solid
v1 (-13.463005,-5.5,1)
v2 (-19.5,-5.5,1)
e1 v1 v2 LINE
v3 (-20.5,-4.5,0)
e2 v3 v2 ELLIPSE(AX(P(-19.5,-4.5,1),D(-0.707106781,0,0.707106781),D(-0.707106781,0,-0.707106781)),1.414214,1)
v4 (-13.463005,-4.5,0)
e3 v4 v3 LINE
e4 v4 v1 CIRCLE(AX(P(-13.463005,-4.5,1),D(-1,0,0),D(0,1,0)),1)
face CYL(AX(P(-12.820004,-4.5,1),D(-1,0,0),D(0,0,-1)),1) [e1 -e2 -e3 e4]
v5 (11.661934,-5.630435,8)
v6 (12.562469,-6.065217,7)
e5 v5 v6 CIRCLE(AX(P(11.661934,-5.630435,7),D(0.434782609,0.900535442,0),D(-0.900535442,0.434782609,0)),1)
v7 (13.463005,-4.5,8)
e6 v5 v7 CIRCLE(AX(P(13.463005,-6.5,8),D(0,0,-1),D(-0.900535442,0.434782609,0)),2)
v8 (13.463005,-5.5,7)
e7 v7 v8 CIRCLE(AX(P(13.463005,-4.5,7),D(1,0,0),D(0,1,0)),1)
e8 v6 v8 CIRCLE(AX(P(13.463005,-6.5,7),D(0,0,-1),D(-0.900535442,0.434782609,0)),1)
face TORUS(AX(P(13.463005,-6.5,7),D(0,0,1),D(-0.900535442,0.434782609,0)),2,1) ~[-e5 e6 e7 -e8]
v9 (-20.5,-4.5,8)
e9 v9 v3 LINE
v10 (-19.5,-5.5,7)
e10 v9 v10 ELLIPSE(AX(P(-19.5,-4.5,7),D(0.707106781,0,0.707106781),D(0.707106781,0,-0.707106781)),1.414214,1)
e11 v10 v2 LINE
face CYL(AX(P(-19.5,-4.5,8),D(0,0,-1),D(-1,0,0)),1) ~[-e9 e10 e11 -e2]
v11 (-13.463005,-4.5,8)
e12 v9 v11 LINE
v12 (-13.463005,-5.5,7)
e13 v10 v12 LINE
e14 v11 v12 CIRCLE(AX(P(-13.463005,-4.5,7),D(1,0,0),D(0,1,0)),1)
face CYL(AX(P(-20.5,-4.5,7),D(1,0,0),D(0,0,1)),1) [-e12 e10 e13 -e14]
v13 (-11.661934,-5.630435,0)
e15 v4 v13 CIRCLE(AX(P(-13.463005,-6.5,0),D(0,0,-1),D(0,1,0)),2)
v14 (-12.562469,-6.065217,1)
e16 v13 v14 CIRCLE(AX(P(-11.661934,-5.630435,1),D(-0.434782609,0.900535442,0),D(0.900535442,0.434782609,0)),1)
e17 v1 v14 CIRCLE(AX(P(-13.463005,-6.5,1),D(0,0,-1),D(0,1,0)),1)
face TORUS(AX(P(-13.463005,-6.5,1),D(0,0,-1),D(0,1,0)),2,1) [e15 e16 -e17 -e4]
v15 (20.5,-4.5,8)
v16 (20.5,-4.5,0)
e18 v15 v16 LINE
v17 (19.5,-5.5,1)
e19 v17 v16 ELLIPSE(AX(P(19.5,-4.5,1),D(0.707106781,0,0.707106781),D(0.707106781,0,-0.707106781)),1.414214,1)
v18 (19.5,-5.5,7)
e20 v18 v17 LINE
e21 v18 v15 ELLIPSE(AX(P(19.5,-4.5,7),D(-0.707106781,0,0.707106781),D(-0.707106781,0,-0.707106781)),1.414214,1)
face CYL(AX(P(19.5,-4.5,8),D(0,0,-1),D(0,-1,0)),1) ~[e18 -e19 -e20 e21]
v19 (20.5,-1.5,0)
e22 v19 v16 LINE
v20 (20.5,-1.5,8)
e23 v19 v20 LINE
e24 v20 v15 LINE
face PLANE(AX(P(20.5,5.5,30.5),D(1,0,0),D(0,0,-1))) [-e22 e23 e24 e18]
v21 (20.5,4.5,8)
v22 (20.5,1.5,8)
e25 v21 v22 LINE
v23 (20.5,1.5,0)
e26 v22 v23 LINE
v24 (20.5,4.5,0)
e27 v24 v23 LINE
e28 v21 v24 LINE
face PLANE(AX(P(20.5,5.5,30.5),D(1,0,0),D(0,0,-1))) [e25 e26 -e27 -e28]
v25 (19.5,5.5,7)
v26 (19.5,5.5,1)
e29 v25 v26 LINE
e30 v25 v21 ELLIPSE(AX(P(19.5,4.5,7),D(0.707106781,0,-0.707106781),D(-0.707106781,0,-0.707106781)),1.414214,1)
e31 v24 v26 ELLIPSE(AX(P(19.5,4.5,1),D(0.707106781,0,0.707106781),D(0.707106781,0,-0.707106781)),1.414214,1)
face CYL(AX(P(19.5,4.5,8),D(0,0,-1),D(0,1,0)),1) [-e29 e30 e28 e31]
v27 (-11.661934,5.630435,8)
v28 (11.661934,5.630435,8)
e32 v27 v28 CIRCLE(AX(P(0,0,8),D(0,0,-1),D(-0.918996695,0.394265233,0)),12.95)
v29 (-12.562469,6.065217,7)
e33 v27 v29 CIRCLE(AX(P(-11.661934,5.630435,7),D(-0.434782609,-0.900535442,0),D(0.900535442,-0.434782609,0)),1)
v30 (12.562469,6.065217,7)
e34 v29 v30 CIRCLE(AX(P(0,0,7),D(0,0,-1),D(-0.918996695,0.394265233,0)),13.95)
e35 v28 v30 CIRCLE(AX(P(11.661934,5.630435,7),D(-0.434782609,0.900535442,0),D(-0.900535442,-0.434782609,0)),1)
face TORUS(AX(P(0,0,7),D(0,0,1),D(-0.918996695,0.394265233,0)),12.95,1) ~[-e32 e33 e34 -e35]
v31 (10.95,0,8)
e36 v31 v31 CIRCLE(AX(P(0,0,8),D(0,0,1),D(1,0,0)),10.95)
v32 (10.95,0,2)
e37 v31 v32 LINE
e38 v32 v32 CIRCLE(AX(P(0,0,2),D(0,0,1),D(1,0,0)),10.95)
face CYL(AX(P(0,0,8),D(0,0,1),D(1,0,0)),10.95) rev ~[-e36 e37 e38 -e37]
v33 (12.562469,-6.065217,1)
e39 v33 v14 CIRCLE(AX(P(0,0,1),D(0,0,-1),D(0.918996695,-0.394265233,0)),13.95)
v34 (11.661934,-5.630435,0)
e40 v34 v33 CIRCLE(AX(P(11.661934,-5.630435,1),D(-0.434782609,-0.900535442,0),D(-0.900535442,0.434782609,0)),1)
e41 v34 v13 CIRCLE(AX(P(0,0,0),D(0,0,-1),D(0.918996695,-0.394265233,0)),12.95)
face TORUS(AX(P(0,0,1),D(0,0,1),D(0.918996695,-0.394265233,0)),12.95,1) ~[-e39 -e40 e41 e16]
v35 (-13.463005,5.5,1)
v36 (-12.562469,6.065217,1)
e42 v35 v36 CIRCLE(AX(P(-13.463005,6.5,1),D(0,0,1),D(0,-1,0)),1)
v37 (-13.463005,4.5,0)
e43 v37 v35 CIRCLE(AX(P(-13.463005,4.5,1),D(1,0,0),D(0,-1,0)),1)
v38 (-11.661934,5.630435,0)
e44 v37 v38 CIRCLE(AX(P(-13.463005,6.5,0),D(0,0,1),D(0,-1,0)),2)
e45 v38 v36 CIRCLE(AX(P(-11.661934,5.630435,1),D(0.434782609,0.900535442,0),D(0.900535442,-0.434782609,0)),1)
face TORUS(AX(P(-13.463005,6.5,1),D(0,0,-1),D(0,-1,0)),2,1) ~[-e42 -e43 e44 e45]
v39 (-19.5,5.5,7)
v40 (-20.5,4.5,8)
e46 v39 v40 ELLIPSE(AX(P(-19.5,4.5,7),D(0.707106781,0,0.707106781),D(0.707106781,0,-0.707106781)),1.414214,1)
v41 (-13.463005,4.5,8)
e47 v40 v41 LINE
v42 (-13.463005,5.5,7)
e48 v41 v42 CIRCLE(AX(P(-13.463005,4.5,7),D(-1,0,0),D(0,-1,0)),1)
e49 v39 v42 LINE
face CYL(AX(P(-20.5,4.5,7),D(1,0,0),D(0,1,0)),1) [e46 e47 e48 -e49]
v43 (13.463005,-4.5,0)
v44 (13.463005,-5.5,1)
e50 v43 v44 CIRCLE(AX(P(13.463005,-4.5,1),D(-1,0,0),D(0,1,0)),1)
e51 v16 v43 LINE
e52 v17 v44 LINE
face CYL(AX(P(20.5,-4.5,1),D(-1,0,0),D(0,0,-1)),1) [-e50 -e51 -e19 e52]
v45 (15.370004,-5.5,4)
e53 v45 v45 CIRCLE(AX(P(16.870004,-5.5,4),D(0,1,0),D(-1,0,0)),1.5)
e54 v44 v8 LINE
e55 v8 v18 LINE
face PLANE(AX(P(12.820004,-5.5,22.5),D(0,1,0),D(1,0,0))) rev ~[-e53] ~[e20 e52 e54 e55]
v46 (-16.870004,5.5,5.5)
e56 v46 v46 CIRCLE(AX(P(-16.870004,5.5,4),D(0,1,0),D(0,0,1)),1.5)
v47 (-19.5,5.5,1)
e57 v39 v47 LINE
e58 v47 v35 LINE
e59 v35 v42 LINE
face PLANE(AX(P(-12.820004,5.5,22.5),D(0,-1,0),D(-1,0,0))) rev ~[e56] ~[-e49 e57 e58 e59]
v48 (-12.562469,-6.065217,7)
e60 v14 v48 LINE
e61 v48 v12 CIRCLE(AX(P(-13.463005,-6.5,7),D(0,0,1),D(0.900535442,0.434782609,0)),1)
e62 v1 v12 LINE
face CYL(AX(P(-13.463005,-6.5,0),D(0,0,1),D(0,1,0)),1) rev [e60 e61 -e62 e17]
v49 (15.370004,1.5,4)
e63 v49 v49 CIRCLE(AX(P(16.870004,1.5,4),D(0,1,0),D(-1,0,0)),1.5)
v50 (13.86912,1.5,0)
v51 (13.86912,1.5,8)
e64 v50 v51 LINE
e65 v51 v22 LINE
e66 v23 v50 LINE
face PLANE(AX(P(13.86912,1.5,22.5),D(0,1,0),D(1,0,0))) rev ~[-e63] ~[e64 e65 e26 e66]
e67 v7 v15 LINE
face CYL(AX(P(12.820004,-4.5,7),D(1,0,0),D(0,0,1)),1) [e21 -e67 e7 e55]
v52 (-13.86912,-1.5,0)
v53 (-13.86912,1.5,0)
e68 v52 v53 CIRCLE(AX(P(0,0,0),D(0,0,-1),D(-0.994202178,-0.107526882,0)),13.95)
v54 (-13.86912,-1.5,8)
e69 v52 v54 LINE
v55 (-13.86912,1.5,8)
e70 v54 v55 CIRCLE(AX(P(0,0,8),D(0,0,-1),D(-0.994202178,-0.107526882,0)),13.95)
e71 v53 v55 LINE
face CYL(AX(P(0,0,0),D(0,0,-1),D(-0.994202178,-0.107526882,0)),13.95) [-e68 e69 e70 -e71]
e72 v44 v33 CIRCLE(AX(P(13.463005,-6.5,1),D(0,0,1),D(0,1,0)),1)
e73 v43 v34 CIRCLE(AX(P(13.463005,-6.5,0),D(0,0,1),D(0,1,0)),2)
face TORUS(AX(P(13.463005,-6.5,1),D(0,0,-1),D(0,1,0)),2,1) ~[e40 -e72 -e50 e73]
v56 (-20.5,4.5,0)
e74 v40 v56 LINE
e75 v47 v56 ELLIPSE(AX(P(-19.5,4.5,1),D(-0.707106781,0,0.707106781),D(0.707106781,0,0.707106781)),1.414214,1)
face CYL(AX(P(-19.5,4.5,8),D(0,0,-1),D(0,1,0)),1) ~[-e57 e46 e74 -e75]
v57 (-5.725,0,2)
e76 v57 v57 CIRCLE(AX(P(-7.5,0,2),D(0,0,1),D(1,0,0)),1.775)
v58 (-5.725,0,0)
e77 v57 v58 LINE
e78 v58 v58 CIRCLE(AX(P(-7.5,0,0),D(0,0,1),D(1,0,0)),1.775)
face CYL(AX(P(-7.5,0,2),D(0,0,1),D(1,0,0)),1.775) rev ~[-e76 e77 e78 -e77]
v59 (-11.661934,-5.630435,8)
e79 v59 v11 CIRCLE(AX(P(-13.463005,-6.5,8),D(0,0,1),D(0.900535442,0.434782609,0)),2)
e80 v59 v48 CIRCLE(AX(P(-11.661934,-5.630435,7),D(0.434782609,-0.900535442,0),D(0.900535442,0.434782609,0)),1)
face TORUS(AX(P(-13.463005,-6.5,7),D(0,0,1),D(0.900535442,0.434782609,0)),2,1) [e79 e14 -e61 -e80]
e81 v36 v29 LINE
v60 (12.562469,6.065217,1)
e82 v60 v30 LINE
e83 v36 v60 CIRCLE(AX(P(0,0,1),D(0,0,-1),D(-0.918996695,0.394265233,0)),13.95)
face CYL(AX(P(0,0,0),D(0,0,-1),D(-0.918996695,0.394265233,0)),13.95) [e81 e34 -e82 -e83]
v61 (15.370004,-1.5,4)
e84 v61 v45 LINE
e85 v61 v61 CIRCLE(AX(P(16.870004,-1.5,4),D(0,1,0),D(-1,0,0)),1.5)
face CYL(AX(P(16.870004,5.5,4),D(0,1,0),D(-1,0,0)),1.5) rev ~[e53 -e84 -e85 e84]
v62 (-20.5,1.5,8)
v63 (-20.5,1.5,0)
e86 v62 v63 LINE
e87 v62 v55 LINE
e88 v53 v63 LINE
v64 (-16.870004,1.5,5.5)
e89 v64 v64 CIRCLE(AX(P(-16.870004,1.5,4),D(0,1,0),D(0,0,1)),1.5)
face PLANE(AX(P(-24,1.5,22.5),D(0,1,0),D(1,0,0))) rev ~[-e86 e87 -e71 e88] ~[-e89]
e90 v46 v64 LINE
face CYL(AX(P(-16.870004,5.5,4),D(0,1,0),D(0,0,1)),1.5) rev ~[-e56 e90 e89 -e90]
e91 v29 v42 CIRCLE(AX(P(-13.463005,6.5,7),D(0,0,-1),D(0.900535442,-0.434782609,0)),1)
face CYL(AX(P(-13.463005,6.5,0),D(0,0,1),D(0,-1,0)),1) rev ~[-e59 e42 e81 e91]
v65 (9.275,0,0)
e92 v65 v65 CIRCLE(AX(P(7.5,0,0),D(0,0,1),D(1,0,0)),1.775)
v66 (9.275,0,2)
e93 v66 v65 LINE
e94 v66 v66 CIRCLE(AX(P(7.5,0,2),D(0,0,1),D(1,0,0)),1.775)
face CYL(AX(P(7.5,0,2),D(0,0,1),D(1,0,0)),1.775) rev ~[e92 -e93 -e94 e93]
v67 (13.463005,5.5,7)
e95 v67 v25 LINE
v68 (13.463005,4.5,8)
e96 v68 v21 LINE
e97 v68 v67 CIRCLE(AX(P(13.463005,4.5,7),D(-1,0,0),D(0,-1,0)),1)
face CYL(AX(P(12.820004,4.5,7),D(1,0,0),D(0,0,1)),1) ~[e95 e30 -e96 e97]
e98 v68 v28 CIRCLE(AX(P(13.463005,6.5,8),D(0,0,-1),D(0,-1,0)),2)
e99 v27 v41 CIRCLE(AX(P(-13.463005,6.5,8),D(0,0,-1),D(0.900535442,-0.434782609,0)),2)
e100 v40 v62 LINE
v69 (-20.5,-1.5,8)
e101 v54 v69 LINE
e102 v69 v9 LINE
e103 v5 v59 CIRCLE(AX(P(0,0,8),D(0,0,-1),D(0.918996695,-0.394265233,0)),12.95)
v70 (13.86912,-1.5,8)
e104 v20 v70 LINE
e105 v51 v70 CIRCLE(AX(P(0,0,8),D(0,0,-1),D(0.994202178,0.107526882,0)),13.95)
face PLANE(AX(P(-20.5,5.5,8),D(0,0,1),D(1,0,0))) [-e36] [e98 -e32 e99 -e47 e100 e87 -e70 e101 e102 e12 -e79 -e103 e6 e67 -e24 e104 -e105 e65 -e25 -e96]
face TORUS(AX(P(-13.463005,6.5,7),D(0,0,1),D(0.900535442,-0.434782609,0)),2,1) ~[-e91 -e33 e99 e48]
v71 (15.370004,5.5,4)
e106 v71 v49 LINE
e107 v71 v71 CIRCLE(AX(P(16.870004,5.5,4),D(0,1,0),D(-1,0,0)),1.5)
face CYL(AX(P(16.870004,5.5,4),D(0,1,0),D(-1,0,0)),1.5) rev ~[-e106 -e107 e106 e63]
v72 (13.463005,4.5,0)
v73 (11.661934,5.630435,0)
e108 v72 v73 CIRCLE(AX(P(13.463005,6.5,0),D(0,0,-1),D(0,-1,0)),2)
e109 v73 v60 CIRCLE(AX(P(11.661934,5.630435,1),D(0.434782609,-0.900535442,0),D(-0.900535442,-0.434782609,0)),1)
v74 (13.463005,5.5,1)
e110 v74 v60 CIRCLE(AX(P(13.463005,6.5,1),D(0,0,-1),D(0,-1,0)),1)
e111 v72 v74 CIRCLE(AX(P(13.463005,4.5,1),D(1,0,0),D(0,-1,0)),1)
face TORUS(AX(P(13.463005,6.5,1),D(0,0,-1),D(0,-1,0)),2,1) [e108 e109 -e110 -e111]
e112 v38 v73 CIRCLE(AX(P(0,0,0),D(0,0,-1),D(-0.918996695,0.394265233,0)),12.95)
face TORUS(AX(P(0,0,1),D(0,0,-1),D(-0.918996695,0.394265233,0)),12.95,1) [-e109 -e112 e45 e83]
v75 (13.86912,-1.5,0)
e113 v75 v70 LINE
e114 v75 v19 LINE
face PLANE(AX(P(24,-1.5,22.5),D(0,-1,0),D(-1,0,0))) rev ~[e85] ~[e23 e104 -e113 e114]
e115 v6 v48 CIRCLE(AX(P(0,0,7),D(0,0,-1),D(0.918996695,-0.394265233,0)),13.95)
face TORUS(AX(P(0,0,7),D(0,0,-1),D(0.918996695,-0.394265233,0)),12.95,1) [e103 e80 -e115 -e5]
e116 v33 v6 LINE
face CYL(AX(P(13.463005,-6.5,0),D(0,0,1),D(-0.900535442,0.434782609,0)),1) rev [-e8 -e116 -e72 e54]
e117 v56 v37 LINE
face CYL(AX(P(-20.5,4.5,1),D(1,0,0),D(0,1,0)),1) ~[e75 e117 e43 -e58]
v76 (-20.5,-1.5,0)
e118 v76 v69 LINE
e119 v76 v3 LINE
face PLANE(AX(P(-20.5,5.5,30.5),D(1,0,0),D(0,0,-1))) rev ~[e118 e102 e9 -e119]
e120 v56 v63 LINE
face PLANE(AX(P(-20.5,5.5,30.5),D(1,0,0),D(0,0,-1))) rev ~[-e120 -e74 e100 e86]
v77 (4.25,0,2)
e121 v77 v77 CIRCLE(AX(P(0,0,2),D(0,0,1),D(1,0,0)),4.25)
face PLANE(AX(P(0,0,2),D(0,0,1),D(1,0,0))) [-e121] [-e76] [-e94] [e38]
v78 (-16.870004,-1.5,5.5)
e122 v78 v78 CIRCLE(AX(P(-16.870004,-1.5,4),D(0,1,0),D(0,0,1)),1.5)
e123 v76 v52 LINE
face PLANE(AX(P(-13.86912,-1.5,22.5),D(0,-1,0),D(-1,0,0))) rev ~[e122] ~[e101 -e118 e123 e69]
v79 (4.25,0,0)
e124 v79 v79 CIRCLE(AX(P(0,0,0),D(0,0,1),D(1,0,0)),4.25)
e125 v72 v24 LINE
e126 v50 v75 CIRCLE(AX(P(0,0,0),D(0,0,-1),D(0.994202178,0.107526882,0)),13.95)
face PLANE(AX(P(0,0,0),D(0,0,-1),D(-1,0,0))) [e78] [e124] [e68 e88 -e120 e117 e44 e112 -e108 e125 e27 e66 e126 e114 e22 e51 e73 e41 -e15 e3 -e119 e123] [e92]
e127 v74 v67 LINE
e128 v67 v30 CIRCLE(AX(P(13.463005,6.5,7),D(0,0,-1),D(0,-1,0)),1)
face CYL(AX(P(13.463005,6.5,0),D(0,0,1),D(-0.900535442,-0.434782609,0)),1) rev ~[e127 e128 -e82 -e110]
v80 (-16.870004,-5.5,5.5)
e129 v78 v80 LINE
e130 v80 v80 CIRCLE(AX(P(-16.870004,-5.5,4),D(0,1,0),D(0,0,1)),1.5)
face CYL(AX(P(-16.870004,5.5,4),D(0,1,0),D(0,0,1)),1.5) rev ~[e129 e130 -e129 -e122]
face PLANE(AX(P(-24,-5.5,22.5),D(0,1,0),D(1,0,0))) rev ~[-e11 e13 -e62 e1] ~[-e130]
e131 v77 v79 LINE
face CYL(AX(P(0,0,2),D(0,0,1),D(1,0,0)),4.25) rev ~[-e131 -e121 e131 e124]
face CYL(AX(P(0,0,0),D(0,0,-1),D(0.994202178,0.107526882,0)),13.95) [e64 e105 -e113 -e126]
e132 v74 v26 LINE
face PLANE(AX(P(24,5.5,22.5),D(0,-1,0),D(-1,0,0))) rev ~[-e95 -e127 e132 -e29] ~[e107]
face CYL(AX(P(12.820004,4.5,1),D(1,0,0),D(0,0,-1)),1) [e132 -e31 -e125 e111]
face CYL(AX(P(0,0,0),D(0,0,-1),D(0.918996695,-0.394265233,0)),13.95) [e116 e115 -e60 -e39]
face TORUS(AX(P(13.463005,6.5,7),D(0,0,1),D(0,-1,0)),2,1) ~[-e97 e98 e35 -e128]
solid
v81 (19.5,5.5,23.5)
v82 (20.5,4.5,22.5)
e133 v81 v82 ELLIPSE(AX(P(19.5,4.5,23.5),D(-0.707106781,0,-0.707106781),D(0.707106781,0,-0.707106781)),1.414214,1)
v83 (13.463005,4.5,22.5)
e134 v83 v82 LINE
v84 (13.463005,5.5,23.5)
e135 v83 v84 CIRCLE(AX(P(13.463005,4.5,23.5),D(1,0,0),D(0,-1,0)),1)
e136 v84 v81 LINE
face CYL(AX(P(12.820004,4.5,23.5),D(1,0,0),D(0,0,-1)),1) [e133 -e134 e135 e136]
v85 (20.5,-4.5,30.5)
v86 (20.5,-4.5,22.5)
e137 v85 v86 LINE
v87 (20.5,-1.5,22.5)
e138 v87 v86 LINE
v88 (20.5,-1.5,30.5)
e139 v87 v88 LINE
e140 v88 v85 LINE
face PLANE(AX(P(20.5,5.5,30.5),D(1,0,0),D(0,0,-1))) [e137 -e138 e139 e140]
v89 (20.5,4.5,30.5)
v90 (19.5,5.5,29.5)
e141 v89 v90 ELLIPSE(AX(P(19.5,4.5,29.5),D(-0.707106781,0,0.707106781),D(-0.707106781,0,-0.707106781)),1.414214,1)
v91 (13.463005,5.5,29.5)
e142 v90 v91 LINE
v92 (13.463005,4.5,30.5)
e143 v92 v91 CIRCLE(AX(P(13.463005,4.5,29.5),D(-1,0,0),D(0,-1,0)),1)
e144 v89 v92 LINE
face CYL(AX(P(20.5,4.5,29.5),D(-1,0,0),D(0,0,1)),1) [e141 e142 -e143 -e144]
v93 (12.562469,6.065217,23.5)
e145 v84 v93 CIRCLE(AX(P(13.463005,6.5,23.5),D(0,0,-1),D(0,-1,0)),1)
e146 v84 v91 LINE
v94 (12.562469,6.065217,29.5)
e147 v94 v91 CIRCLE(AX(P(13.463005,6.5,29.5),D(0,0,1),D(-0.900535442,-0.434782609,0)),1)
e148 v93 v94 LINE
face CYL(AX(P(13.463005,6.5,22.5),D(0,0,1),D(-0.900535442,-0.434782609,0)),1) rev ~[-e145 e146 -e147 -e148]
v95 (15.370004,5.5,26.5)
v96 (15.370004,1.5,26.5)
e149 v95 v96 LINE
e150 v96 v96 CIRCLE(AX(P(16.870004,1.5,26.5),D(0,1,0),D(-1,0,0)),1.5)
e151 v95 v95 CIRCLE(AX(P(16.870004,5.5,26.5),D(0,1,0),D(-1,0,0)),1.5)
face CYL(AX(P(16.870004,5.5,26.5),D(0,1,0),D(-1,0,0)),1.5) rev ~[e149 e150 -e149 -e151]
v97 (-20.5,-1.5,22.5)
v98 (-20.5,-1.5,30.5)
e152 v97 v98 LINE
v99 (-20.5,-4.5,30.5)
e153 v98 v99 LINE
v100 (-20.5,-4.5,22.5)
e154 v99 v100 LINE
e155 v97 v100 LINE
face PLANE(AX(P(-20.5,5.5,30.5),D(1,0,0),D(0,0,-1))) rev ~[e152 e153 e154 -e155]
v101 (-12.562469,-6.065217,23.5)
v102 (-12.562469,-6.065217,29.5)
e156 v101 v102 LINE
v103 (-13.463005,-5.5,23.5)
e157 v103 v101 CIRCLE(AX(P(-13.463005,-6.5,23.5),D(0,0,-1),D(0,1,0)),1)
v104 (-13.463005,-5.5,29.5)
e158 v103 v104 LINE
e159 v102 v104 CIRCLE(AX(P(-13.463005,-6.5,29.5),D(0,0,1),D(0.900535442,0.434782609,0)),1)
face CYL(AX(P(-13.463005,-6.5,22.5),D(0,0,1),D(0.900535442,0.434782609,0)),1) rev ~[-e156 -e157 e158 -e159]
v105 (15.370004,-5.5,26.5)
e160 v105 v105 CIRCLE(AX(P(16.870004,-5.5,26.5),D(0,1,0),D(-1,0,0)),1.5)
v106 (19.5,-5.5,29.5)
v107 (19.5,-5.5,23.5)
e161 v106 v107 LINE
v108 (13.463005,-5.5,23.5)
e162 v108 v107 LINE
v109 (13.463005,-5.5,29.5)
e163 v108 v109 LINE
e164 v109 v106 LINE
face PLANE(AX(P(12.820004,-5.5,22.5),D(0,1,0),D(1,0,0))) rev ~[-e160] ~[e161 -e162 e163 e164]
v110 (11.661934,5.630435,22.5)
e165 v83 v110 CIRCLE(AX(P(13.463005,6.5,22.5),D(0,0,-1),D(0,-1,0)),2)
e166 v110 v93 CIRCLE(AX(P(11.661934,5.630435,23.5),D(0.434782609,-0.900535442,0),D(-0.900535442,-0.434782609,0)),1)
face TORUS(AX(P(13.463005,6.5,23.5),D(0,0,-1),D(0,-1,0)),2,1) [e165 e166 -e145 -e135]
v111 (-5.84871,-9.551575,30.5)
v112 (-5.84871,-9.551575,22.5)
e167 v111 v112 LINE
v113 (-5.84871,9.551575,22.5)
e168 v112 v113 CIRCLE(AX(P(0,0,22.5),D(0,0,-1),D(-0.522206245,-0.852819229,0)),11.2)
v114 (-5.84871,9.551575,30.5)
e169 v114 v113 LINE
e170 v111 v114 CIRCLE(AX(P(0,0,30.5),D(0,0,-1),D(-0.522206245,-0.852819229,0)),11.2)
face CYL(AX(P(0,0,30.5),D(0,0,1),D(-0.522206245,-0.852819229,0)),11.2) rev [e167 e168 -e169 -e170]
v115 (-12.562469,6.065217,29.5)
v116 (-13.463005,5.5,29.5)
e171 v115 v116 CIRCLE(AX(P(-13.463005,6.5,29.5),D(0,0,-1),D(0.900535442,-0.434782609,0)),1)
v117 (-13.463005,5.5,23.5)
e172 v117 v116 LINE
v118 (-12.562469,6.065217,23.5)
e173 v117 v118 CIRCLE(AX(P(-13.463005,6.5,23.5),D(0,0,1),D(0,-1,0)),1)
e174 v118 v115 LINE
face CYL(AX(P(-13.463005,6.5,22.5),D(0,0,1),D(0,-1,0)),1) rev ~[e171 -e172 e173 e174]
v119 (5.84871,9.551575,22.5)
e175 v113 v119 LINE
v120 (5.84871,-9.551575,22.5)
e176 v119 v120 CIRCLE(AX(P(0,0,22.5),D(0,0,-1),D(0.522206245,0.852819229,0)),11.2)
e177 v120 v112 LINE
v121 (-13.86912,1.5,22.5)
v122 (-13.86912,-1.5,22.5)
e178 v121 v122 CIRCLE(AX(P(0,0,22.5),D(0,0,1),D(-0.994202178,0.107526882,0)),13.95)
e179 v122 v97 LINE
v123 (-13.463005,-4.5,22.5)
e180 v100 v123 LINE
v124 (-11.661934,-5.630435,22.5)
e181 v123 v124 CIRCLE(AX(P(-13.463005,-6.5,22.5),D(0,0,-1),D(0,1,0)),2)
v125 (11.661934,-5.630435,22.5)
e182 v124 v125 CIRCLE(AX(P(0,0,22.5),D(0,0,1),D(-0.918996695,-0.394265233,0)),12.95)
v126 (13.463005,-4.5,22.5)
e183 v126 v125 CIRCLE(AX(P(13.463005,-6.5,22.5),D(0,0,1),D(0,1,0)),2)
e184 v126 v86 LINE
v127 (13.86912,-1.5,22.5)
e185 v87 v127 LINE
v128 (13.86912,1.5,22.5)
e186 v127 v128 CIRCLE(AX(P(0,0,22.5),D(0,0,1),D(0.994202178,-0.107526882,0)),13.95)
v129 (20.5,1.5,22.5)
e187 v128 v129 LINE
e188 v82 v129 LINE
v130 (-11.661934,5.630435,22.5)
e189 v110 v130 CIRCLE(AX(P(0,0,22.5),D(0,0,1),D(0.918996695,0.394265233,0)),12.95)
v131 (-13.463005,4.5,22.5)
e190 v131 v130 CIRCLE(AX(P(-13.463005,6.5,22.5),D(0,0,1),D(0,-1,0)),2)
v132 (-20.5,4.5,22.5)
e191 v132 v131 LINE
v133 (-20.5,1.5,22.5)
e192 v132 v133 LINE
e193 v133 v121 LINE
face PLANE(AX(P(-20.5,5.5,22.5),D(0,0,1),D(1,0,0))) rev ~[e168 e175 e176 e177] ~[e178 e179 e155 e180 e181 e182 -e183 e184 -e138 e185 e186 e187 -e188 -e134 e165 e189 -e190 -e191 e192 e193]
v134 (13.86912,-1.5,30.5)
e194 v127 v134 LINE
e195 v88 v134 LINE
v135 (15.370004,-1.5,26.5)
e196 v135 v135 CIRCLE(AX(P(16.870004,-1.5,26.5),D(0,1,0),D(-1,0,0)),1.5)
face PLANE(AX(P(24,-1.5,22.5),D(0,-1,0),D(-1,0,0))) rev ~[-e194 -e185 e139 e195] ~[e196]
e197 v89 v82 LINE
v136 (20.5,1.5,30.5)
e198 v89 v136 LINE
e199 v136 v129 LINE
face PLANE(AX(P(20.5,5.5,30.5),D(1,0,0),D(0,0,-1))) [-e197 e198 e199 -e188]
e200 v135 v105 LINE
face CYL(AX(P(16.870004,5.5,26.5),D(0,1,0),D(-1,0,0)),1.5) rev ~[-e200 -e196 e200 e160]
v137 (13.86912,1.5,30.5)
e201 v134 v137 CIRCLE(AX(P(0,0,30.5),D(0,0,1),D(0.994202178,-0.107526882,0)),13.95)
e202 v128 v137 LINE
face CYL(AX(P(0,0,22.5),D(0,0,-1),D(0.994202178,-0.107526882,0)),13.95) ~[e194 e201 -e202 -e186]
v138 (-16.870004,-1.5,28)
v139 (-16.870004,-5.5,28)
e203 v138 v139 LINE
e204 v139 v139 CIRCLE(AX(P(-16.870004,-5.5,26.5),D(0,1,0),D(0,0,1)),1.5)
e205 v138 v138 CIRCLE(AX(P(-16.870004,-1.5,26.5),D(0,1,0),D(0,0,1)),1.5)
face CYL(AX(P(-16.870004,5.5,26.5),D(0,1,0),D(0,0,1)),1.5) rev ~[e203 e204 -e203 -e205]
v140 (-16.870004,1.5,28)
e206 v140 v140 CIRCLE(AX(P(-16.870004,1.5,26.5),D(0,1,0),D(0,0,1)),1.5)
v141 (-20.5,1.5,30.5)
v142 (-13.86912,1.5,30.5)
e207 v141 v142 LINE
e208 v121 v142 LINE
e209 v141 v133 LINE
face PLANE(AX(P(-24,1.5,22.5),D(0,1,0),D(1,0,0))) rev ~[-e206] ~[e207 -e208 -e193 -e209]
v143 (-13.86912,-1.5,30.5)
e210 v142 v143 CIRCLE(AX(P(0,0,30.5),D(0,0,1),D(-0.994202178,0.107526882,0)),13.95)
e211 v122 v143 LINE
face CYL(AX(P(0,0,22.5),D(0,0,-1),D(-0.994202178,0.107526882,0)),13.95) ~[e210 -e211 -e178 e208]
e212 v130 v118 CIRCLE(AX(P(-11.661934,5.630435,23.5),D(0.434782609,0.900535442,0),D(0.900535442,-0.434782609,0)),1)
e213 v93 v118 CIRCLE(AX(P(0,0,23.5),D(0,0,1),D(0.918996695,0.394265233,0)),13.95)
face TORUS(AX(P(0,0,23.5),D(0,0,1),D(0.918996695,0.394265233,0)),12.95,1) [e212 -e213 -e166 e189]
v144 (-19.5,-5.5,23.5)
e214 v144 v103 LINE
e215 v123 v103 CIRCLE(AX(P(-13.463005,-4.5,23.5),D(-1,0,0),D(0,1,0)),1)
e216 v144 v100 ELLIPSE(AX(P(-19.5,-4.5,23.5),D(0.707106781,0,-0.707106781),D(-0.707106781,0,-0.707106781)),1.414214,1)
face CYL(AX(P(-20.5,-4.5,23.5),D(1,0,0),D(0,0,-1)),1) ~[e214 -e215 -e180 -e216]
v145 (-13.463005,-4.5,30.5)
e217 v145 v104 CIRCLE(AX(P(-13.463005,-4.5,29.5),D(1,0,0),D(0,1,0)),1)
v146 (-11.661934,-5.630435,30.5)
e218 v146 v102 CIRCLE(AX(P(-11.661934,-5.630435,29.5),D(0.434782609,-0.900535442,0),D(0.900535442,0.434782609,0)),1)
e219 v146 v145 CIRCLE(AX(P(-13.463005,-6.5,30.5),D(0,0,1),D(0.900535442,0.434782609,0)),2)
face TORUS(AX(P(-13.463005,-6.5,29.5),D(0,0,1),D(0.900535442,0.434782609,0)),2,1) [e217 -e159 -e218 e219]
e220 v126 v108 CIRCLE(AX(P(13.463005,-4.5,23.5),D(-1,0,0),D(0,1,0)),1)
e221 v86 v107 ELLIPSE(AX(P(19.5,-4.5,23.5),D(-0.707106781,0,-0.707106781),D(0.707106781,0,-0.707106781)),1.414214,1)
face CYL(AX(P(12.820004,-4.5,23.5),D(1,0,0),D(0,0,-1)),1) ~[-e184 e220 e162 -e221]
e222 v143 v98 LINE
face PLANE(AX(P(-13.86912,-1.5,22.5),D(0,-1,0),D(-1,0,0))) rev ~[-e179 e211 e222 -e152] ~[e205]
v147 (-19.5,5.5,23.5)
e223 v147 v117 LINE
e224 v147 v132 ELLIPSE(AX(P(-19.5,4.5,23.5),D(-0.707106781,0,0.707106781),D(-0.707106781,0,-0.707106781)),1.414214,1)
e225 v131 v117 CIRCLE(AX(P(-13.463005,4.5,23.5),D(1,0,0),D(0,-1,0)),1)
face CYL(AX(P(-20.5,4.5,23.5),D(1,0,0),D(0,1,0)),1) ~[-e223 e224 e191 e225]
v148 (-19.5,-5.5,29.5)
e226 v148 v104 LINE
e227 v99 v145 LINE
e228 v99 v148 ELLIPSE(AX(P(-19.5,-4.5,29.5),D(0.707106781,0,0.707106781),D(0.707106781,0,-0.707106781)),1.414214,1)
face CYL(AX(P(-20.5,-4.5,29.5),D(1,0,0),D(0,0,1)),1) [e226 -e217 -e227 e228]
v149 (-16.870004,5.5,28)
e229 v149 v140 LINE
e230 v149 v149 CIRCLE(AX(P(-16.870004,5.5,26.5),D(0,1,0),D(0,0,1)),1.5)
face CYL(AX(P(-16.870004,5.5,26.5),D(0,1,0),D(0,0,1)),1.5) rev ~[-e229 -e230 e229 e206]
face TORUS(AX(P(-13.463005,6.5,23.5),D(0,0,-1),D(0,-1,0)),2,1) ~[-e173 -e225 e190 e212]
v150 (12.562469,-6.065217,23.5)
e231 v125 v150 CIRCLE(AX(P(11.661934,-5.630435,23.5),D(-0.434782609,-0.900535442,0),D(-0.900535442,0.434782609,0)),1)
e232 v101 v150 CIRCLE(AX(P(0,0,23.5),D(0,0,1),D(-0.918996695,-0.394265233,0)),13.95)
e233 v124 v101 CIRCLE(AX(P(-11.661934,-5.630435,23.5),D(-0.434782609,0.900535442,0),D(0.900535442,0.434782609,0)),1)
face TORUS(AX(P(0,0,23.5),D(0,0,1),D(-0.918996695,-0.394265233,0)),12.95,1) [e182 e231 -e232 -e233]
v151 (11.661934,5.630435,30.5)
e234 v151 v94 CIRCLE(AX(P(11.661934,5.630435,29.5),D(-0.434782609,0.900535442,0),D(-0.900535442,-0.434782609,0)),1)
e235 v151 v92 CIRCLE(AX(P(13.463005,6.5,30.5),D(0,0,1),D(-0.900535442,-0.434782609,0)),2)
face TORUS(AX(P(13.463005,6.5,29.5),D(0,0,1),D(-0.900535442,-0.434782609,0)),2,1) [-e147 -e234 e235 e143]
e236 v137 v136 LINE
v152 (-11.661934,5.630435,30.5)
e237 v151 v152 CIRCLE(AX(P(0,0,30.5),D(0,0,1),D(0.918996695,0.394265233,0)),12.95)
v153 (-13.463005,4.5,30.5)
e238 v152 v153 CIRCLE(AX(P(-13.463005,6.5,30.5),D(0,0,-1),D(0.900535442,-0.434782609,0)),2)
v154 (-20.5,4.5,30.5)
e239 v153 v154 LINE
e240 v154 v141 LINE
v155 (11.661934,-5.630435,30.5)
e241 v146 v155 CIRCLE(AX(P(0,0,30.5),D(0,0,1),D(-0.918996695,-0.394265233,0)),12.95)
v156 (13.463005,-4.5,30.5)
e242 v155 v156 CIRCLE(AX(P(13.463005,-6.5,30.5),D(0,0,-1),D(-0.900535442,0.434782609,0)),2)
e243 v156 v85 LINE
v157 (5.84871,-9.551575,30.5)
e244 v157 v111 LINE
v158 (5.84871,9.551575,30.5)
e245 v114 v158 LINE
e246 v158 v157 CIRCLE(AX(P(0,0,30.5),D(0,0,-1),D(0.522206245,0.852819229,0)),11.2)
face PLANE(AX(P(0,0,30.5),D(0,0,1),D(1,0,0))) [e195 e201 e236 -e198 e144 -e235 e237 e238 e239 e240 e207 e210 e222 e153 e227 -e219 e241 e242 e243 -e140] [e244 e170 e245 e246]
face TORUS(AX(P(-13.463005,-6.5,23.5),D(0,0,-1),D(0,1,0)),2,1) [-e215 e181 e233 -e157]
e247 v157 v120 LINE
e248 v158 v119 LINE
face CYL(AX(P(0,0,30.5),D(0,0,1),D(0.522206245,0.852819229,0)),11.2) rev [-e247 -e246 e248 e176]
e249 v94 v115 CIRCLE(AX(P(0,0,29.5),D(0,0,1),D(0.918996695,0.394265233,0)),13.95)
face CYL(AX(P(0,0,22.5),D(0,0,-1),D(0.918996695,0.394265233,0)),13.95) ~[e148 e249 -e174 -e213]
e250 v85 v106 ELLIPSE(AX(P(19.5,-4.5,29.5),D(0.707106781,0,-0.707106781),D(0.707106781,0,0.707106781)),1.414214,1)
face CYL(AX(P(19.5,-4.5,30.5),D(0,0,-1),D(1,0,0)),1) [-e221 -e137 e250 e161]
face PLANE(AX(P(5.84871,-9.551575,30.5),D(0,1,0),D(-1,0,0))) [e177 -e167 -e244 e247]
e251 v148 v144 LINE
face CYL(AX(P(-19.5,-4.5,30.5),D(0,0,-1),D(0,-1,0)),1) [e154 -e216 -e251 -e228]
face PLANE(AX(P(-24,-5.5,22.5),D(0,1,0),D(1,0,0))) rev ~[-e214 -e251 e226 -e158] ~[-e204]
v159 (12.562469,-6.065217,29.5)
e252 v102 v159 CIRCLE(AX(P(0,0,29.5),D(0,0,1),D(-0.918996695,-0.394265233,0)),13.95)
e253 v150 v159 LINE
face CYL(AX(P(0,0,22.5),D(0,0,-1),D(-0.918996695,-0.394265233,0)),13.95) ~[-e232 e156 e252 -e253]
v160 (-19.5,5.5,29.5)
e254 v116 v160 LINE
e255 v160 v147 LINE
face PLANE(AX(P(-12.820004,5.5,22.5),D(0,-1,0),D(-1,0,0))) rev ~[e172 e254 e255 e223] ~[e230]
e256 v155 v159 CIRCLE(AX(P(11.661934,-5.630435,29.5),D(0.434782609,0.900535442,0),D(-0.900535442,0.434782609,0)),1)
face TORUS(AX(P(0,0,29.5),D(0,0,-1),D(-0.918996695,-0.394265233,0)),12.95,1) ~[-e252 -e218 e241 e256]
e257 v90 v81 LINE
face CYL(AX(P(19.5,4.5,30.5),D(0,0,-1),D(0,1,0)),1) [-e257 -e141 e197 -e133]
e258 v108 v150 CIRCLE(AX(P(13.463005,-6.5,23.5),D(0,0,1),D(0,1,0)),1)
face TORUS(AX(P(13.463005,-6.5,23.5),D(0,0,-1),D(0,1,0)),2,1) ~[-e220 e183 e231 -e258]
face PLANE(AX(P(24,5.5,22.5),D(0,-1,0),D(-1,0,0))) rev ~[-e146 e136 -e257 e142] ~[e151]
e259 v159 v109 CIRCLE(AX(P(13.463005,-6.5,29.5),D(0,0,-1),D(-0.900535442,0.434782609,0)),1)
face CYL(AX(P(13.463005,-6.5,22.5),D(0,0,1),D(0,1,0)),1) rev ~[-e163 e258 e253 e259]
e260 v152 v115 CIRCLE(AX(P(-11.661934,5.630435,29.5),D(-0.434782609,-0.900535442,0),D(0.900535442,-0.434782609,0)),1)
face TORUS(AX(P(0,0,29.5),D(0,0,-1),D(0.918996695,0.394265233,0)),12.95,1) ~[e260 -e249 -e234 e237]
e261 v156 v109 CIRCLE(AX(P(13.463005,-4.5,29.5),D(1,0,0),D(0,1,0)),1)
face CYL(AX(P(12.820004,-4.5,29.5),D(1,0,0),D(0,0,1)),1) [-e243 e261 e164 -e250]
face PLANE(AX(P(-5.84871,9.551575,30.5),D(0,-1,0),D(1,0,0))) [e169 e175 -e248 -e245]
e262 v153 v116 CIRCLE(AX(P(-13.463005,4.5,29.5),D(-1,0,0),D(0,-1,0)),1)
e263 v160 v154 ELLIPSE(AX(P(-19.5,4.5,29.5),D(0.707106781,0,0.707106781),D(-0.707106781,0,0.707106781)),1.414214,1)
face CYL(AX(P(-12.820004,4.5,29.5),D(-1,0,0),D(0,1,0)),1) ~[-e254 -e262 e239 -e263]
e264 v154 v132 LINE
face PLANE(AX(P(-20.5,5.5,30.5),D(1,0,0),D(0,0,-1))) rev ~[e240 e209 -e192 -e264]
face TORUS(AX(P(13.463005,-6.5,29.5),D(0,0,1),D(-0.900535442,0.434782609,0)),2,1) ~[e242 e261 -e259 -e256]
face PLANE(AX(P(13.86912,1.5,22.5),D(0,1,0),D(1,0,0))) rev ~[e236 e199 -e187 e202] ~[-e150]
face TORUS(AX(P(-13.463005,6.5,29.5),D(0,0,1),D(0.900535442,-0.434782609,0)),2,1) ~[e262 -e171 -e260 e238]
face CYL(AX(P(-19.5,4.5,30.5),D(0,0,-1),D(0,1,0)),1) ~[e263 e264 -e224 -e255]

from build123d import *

# Parameters (mm, degrees)
SALIENTE_EXTRUIR1_DEPTH = 8
CROQUIS2_R              = 10.95
CORTAR_EXTRUIR1_DEPTH   = 6
CROQUIS3_R              = 4.25
CROQUIS3_R_2            = 1.775
CORTAR_EXTRUIR2_DEPTH   = 3.5
SALIENTE_EXTRUIR2_DEPTH = 14.5
SALIENTE_EXTRUIR3_DEPTH = 8
CORTAR_EXTRUIR3_DEPTH   = 8
CROQUIS8_R              = 1.5
CORTAR_EXTRUIR4_DEPTH   = 44.411432826
CROQUIS9_W              = 3.5
CROQUIS9_H              = 30.5
CORTAR_EXTRUIR6_DEPTH   = 44.411432826
CROQUIS10_W             = 7.6799961
CROQUIS10_H             = 14.5
CORTAR_EXTRUIR7_DEPTH   = 42.578870836
REDONDEO3_R             = 1
REDONDEO4_R             = 1


with BuildPart() as part:
    # Croquis1 → Saliente-Extruir1 (new body)
    with BuildSketch(Plane.XY):
        with BuildLine():
            Line((-13.869120376, 1.5), (-24, 1.5))
            Line((-24, 1.5), (-24, 5.5))
            Line((-24, 5.5), (-12.8200039, 5.5))
            ThreePointArc((-12.8200039, 5.5), (0, 13.95), (12.8200039, 5.5))
            Line((12.8200039, 5.5), (24, 5.5))
            Line((24, 5.5), (24, 1.5))
            Line((24, 1.5), (13.869120376, 1.5))
            ThreePointArc((13.869120376, 1.5), (13.95, 0), (13.869120376, -1.5))
            Line((13.869120376, -1.5), (24, -1.5))
            Line((24, -1.5), (24, -5.5))
            Line((24, -5.5), (12.8200039, -5.5))
            ThreePointArc((12.8200039, -5.5), (0, -13.95), (-12.8200039, -5.5))
            Line((-12.8200039, -5.5), (-24, -5.5))
            Line((-24, -5.5), (-24, -1.5))
            Line((-24, -1.5), (-13.869120376, -1.5))
            ThreePointArc((-13.869120376, -1.5), (-13.95, 0), (-13.869120376, 1.5))
        make_face()
    extrude(amount=SALIENTE_EXTRUIR1_DEPTH)

    # Croquis2 → Cortar-Extruir1 (cut)
    with BuildSketch(Plane.XY.offset(8)):
        Circle(CROQUIS2_R)
    extrude(amount=-CORTAR_EXTRUIR1_DEPTH, mode=Mode.SUBTRACT)

    # Croquis3 → Cortar-Extruir2 (cut)
    with BuildSketch(Plane.XY.offset(2)):
        Circle(CROQUIS3_R)
        with Locations((-7.5, 0)):
            Circle(CROQUIS3_R_2)
        with Locations((7.5, 0)):
            Circle(CROQUIS3_R_2)
    extrude(amount=-CORTAR_EXTRUIR2_DEPTH, mode=Mode.SUBTRACT)

    # Croquis4 → Saliente-Extruir2 (add)
    with BuildSketch(Plane.XY.offset(8)):
        with BuildLine():
            Line((-12.8200039, 5.5), (-24, 5.5))
            Line((-24, 5.5), (-24, 1.5))
            Line((-24, 1.5), (-13.869120376, 1.5))
            ThreePointArc((-13.869120376, 1.5), (-13.49360362, 3.539090469), (-12.8200039, 5.5))
        make_face()
        with BuildLine():
            Line((-13.869120376, -1.5), (-24, -1.5))
            Line((-24, -1.5), (-24, -5.5))
            Line((-24, -5.5), (-12.8200039, -5.5))
            ThreePointArc((-12.8200039, -5.5), (-13.49360362, -3.539090469), (-13.869120376, -1.5))
        make_face()
        with BuildLine():
            Line((24, -5.5), (12.8200039, -5.5))
            ThreePointArc((12.8200039, -5.5), (13.49360362, -3.539090469), (13.869120376, -1.5))
            Line((13.869120376, -1.5), (24, -1.5))
            Line((24, -1.5), (24, -5.5))
        make_face()
        with BuildLine():
            Line((24, 1.5), (13.869120376, 1.5))
            ThreePointArc((13.869120376, 1.5), (13.49360362, 3.539090469), (12.8200039, 5.5))
            Line((12.8200039, 5.5), (24, 5.5))
            Line((24, 5.5), (24, 1.5))
        make_face()
    extrude(amount=SALIENTE_EXTRUIR2_DEPTH)

    # Croquis6 → Saliente-Extruir3 (add)
    with BuildSketch(Plane.XY.offset(22.5)):
        with BuildLine():
            Line((-12.8200039, 5.5), (-24, 5.5))
            Line((-24, 5.5), (-24, 1.5))
            Line((-24, 1.5), (-13.869120376, 1.5))
            ThreePointArc((-13.869120376, 1.5), (-13.95, 0), (-13.869120376, -1.5))
            Line((-13.869120376, -1.5), (-24, -1.5))
            Line((-24, -1.5), (-24, -5.5))
            Line((-24, -5.5), (-12.8200039, -5.5))
            ThreePointArc((-12.8200039, -5.5), (0, -13.95), (12.8200039, -5.5))
            Line((12.8200039, -5.5), (24, -5.5))
            Line((24, -5.5), (24, -1.5))
            Line((24, -1.5), (13.869120376, -1.5))
            ThreePointArc((13.869120376, -1.5), (13.95, 0), (13.869120376, 1.5))
            Line((13.869120376, 1.5), (24, 1.5))
            Line((24, 1.5), (24, 5.5))
            Line((24, 5.5), (12.8200039, 5.5))
            ThreePointArc((12.8200039, 5.5), (0, 13.95), (-12.8200039, 5.5))
        make_face()
    extrude(amount=SALIENTE_EXTRUIR3_DEPTH)

    # Croquis7 → Cortar-Extruir3 (cut)
    with BuildSketch(Plane.XY.offset(30.5)):
        with BuildLine():
            Line((-5.848709946, 9.551575366), (5.848709946, 9.551575366))
            ThreePointArc((5.848709946, 9.551575366), (11.2, 0), (5.848709946, -9.551575366))
            Line((5.848709946, -9.551575366), (-5.848709946, -9.551575366))
            ThreePointArc((-5.848709946, -9.551575366), (-11.2, 0), (-5.848709946, 9.551575366))
        make_face()
    extrude(amount=-CORTAR_EXTRUIR3_DEPTH, mode=Mode.SUBTRACT)

    # Croquis8 → Cortar-Extruir4 (cut, through all)
    with BuildSketch(Plane(origin=(0, 5.5, 0), x_dir=(1, 0, 0), z_dir=(0, 1, 0))):
        with Locations(Location((16.8700039, -26.5, 0), (0, 0, 180))):
            Circle(CROQUIS8_R)
        with Locations(Location((16.8700039, -4, 0), (0, 0, 180))):
            Circle(CROQUIS8_R)
        with Locations(Location((-16.8700039, -4, 0), (0, 0, 270))):
            Circle(CROQUIS8_R)
        with Locations(Location((-16.8700039, -26.5, 0), (0, 0, 270))):
            Circle(CROQUIS8_R)
    extrude(amount=-CORTAR_EXTRUIR4_DEPTH, mode=Mode.SUBTRACT)

    # Croquis9 → Cortar-Extruir6 (cut, through all)
    with BuildSketch(Plane(origin=(0, 5.5, 0), x_dir=(1, 0, 0), z_dir=(0, 1, 0))):
        with Locations((22.25, -15.25)):
            Rectangle(CROQUIS9_W, CROQUIS9_H)
        with Locations((-22.25, -15.25)):
            Rectangle(CROQUIS9_W, CROQUIS9_H)
    extrude(amount=-CORTAR_EXTRUIR6_DEPTH, mode=Mode.SUBTRACT)

    # Croquis10 → Cortar-Extruir7 (cut, through all)
    with BuildSketch(Plane(origin=(0, 5.5, 0), x_dir=(1, 0, 0), z_dir=(0, 1, 0))):
        with Locations((-16.66000195, -15.25)):
            Rectangle(CROQUIS10_W, CROQUIS10_H)
        with Locations((16.66000195, -15.25)):
            Rectangle(CROQUIS10_W, CROQUIS10_H)
    extrude(amount=-CORTAR_EXTRUIR7_DEPTH, mode=Mode.SUBTRACT)


with BuildPart() as cortar_extruir7_piece_1:
    # of the separate pieces the step leaves, piece 1, a body of its own (cortar_extruir7_pieces)
    add(part.part.solids().sort_by_distance((-12.8200039, -5.5, 0))[0])

    # Redondeo3
    redondeo3_edges = [cortar_extruir7_piece_1.edges().sort_by_distance(p)[0] for p in [
        (20.5, -5.5, 4),
        (16.66000195, -5.5, 8),
        (12.8200039, -5.5, 4),
        (16.66000195, -5.5, 0),
        (16.66000195, 5.5, 0),
        (20.5, 5.5, 4),
        (0, 13.95, 8),
        (-16.66000195, 5.5, 8),
        (0, -13.95, 8),
        (0, 13.95, 0),
        (12.8200039, 5.5, 4),
        (-12.8200039, 5.5, 4),
        (-16.66000195, 5.5, 0),
        (-16.66000195, -5.5, 8),
        (-20.5, -5.5, 4),
        (-16.66000195, -5.5, 0),
        (0, -13.95, 0),
        (-12.8200039, -5.5, 4),
        (-20.5, 5.5, 4),
        (16.66000195, 5.5, 8),
    ]]
    fillet(redondeo3_edges, radius=REDONDEO3_R)


with BuildPart() as cortar_extruir7_piece_2:
    # of the separate pieces the step leaves, piece 2, a body of its own (cortar_extruir7_pieces)
    add(part.part.solids().sort_by_distance((-12.8200039, -5.5, 22.5))[0])

    # Redondeo4
    redondeo4_edges = [cortar_extruir7_piece_2.edges().sort_by_distance(p)[0] for p in [
        (0, 13.95, 22.5),
        (12.8200039, 5.5, 26.5),
        (-12.8200039, 5.5, 26.5),
        (0, -13.95, 22.5),
        (-12.8200039, -5.5, 26.5),
        (12.8200039, -5.5, 26.5),
        (0, 13.95, 30.5),
        (-16.66000195, 5.5, 30.5),
        (0, -13.95, 30.5),
        (16.66000195, -5.5, 30.5),
        (16.66000195, 5.5, 30.5),
        (-16.66000195, -5.5, 30.5),
        (-20.5, -5.5, 26.5),
        (-20.5, 5.5, 26.5),
        (-16.66000195, -5.5, 22.5),
        (-16.66000195, 5.5, 22.5),
        (20.5, 5.5, 26.5),
        (20.5, -5.5, 26.5),
        (16.66000195, -5.5, 22.5),
        (16.66000195, 5.5, 22.5),
    ]]
    fillet(redondeo4_edges, radius=REDONDEO4_R)


solid = Compound([cortar_extruir7_piece_1.part, cortar_extruir7_piece_2.part])
